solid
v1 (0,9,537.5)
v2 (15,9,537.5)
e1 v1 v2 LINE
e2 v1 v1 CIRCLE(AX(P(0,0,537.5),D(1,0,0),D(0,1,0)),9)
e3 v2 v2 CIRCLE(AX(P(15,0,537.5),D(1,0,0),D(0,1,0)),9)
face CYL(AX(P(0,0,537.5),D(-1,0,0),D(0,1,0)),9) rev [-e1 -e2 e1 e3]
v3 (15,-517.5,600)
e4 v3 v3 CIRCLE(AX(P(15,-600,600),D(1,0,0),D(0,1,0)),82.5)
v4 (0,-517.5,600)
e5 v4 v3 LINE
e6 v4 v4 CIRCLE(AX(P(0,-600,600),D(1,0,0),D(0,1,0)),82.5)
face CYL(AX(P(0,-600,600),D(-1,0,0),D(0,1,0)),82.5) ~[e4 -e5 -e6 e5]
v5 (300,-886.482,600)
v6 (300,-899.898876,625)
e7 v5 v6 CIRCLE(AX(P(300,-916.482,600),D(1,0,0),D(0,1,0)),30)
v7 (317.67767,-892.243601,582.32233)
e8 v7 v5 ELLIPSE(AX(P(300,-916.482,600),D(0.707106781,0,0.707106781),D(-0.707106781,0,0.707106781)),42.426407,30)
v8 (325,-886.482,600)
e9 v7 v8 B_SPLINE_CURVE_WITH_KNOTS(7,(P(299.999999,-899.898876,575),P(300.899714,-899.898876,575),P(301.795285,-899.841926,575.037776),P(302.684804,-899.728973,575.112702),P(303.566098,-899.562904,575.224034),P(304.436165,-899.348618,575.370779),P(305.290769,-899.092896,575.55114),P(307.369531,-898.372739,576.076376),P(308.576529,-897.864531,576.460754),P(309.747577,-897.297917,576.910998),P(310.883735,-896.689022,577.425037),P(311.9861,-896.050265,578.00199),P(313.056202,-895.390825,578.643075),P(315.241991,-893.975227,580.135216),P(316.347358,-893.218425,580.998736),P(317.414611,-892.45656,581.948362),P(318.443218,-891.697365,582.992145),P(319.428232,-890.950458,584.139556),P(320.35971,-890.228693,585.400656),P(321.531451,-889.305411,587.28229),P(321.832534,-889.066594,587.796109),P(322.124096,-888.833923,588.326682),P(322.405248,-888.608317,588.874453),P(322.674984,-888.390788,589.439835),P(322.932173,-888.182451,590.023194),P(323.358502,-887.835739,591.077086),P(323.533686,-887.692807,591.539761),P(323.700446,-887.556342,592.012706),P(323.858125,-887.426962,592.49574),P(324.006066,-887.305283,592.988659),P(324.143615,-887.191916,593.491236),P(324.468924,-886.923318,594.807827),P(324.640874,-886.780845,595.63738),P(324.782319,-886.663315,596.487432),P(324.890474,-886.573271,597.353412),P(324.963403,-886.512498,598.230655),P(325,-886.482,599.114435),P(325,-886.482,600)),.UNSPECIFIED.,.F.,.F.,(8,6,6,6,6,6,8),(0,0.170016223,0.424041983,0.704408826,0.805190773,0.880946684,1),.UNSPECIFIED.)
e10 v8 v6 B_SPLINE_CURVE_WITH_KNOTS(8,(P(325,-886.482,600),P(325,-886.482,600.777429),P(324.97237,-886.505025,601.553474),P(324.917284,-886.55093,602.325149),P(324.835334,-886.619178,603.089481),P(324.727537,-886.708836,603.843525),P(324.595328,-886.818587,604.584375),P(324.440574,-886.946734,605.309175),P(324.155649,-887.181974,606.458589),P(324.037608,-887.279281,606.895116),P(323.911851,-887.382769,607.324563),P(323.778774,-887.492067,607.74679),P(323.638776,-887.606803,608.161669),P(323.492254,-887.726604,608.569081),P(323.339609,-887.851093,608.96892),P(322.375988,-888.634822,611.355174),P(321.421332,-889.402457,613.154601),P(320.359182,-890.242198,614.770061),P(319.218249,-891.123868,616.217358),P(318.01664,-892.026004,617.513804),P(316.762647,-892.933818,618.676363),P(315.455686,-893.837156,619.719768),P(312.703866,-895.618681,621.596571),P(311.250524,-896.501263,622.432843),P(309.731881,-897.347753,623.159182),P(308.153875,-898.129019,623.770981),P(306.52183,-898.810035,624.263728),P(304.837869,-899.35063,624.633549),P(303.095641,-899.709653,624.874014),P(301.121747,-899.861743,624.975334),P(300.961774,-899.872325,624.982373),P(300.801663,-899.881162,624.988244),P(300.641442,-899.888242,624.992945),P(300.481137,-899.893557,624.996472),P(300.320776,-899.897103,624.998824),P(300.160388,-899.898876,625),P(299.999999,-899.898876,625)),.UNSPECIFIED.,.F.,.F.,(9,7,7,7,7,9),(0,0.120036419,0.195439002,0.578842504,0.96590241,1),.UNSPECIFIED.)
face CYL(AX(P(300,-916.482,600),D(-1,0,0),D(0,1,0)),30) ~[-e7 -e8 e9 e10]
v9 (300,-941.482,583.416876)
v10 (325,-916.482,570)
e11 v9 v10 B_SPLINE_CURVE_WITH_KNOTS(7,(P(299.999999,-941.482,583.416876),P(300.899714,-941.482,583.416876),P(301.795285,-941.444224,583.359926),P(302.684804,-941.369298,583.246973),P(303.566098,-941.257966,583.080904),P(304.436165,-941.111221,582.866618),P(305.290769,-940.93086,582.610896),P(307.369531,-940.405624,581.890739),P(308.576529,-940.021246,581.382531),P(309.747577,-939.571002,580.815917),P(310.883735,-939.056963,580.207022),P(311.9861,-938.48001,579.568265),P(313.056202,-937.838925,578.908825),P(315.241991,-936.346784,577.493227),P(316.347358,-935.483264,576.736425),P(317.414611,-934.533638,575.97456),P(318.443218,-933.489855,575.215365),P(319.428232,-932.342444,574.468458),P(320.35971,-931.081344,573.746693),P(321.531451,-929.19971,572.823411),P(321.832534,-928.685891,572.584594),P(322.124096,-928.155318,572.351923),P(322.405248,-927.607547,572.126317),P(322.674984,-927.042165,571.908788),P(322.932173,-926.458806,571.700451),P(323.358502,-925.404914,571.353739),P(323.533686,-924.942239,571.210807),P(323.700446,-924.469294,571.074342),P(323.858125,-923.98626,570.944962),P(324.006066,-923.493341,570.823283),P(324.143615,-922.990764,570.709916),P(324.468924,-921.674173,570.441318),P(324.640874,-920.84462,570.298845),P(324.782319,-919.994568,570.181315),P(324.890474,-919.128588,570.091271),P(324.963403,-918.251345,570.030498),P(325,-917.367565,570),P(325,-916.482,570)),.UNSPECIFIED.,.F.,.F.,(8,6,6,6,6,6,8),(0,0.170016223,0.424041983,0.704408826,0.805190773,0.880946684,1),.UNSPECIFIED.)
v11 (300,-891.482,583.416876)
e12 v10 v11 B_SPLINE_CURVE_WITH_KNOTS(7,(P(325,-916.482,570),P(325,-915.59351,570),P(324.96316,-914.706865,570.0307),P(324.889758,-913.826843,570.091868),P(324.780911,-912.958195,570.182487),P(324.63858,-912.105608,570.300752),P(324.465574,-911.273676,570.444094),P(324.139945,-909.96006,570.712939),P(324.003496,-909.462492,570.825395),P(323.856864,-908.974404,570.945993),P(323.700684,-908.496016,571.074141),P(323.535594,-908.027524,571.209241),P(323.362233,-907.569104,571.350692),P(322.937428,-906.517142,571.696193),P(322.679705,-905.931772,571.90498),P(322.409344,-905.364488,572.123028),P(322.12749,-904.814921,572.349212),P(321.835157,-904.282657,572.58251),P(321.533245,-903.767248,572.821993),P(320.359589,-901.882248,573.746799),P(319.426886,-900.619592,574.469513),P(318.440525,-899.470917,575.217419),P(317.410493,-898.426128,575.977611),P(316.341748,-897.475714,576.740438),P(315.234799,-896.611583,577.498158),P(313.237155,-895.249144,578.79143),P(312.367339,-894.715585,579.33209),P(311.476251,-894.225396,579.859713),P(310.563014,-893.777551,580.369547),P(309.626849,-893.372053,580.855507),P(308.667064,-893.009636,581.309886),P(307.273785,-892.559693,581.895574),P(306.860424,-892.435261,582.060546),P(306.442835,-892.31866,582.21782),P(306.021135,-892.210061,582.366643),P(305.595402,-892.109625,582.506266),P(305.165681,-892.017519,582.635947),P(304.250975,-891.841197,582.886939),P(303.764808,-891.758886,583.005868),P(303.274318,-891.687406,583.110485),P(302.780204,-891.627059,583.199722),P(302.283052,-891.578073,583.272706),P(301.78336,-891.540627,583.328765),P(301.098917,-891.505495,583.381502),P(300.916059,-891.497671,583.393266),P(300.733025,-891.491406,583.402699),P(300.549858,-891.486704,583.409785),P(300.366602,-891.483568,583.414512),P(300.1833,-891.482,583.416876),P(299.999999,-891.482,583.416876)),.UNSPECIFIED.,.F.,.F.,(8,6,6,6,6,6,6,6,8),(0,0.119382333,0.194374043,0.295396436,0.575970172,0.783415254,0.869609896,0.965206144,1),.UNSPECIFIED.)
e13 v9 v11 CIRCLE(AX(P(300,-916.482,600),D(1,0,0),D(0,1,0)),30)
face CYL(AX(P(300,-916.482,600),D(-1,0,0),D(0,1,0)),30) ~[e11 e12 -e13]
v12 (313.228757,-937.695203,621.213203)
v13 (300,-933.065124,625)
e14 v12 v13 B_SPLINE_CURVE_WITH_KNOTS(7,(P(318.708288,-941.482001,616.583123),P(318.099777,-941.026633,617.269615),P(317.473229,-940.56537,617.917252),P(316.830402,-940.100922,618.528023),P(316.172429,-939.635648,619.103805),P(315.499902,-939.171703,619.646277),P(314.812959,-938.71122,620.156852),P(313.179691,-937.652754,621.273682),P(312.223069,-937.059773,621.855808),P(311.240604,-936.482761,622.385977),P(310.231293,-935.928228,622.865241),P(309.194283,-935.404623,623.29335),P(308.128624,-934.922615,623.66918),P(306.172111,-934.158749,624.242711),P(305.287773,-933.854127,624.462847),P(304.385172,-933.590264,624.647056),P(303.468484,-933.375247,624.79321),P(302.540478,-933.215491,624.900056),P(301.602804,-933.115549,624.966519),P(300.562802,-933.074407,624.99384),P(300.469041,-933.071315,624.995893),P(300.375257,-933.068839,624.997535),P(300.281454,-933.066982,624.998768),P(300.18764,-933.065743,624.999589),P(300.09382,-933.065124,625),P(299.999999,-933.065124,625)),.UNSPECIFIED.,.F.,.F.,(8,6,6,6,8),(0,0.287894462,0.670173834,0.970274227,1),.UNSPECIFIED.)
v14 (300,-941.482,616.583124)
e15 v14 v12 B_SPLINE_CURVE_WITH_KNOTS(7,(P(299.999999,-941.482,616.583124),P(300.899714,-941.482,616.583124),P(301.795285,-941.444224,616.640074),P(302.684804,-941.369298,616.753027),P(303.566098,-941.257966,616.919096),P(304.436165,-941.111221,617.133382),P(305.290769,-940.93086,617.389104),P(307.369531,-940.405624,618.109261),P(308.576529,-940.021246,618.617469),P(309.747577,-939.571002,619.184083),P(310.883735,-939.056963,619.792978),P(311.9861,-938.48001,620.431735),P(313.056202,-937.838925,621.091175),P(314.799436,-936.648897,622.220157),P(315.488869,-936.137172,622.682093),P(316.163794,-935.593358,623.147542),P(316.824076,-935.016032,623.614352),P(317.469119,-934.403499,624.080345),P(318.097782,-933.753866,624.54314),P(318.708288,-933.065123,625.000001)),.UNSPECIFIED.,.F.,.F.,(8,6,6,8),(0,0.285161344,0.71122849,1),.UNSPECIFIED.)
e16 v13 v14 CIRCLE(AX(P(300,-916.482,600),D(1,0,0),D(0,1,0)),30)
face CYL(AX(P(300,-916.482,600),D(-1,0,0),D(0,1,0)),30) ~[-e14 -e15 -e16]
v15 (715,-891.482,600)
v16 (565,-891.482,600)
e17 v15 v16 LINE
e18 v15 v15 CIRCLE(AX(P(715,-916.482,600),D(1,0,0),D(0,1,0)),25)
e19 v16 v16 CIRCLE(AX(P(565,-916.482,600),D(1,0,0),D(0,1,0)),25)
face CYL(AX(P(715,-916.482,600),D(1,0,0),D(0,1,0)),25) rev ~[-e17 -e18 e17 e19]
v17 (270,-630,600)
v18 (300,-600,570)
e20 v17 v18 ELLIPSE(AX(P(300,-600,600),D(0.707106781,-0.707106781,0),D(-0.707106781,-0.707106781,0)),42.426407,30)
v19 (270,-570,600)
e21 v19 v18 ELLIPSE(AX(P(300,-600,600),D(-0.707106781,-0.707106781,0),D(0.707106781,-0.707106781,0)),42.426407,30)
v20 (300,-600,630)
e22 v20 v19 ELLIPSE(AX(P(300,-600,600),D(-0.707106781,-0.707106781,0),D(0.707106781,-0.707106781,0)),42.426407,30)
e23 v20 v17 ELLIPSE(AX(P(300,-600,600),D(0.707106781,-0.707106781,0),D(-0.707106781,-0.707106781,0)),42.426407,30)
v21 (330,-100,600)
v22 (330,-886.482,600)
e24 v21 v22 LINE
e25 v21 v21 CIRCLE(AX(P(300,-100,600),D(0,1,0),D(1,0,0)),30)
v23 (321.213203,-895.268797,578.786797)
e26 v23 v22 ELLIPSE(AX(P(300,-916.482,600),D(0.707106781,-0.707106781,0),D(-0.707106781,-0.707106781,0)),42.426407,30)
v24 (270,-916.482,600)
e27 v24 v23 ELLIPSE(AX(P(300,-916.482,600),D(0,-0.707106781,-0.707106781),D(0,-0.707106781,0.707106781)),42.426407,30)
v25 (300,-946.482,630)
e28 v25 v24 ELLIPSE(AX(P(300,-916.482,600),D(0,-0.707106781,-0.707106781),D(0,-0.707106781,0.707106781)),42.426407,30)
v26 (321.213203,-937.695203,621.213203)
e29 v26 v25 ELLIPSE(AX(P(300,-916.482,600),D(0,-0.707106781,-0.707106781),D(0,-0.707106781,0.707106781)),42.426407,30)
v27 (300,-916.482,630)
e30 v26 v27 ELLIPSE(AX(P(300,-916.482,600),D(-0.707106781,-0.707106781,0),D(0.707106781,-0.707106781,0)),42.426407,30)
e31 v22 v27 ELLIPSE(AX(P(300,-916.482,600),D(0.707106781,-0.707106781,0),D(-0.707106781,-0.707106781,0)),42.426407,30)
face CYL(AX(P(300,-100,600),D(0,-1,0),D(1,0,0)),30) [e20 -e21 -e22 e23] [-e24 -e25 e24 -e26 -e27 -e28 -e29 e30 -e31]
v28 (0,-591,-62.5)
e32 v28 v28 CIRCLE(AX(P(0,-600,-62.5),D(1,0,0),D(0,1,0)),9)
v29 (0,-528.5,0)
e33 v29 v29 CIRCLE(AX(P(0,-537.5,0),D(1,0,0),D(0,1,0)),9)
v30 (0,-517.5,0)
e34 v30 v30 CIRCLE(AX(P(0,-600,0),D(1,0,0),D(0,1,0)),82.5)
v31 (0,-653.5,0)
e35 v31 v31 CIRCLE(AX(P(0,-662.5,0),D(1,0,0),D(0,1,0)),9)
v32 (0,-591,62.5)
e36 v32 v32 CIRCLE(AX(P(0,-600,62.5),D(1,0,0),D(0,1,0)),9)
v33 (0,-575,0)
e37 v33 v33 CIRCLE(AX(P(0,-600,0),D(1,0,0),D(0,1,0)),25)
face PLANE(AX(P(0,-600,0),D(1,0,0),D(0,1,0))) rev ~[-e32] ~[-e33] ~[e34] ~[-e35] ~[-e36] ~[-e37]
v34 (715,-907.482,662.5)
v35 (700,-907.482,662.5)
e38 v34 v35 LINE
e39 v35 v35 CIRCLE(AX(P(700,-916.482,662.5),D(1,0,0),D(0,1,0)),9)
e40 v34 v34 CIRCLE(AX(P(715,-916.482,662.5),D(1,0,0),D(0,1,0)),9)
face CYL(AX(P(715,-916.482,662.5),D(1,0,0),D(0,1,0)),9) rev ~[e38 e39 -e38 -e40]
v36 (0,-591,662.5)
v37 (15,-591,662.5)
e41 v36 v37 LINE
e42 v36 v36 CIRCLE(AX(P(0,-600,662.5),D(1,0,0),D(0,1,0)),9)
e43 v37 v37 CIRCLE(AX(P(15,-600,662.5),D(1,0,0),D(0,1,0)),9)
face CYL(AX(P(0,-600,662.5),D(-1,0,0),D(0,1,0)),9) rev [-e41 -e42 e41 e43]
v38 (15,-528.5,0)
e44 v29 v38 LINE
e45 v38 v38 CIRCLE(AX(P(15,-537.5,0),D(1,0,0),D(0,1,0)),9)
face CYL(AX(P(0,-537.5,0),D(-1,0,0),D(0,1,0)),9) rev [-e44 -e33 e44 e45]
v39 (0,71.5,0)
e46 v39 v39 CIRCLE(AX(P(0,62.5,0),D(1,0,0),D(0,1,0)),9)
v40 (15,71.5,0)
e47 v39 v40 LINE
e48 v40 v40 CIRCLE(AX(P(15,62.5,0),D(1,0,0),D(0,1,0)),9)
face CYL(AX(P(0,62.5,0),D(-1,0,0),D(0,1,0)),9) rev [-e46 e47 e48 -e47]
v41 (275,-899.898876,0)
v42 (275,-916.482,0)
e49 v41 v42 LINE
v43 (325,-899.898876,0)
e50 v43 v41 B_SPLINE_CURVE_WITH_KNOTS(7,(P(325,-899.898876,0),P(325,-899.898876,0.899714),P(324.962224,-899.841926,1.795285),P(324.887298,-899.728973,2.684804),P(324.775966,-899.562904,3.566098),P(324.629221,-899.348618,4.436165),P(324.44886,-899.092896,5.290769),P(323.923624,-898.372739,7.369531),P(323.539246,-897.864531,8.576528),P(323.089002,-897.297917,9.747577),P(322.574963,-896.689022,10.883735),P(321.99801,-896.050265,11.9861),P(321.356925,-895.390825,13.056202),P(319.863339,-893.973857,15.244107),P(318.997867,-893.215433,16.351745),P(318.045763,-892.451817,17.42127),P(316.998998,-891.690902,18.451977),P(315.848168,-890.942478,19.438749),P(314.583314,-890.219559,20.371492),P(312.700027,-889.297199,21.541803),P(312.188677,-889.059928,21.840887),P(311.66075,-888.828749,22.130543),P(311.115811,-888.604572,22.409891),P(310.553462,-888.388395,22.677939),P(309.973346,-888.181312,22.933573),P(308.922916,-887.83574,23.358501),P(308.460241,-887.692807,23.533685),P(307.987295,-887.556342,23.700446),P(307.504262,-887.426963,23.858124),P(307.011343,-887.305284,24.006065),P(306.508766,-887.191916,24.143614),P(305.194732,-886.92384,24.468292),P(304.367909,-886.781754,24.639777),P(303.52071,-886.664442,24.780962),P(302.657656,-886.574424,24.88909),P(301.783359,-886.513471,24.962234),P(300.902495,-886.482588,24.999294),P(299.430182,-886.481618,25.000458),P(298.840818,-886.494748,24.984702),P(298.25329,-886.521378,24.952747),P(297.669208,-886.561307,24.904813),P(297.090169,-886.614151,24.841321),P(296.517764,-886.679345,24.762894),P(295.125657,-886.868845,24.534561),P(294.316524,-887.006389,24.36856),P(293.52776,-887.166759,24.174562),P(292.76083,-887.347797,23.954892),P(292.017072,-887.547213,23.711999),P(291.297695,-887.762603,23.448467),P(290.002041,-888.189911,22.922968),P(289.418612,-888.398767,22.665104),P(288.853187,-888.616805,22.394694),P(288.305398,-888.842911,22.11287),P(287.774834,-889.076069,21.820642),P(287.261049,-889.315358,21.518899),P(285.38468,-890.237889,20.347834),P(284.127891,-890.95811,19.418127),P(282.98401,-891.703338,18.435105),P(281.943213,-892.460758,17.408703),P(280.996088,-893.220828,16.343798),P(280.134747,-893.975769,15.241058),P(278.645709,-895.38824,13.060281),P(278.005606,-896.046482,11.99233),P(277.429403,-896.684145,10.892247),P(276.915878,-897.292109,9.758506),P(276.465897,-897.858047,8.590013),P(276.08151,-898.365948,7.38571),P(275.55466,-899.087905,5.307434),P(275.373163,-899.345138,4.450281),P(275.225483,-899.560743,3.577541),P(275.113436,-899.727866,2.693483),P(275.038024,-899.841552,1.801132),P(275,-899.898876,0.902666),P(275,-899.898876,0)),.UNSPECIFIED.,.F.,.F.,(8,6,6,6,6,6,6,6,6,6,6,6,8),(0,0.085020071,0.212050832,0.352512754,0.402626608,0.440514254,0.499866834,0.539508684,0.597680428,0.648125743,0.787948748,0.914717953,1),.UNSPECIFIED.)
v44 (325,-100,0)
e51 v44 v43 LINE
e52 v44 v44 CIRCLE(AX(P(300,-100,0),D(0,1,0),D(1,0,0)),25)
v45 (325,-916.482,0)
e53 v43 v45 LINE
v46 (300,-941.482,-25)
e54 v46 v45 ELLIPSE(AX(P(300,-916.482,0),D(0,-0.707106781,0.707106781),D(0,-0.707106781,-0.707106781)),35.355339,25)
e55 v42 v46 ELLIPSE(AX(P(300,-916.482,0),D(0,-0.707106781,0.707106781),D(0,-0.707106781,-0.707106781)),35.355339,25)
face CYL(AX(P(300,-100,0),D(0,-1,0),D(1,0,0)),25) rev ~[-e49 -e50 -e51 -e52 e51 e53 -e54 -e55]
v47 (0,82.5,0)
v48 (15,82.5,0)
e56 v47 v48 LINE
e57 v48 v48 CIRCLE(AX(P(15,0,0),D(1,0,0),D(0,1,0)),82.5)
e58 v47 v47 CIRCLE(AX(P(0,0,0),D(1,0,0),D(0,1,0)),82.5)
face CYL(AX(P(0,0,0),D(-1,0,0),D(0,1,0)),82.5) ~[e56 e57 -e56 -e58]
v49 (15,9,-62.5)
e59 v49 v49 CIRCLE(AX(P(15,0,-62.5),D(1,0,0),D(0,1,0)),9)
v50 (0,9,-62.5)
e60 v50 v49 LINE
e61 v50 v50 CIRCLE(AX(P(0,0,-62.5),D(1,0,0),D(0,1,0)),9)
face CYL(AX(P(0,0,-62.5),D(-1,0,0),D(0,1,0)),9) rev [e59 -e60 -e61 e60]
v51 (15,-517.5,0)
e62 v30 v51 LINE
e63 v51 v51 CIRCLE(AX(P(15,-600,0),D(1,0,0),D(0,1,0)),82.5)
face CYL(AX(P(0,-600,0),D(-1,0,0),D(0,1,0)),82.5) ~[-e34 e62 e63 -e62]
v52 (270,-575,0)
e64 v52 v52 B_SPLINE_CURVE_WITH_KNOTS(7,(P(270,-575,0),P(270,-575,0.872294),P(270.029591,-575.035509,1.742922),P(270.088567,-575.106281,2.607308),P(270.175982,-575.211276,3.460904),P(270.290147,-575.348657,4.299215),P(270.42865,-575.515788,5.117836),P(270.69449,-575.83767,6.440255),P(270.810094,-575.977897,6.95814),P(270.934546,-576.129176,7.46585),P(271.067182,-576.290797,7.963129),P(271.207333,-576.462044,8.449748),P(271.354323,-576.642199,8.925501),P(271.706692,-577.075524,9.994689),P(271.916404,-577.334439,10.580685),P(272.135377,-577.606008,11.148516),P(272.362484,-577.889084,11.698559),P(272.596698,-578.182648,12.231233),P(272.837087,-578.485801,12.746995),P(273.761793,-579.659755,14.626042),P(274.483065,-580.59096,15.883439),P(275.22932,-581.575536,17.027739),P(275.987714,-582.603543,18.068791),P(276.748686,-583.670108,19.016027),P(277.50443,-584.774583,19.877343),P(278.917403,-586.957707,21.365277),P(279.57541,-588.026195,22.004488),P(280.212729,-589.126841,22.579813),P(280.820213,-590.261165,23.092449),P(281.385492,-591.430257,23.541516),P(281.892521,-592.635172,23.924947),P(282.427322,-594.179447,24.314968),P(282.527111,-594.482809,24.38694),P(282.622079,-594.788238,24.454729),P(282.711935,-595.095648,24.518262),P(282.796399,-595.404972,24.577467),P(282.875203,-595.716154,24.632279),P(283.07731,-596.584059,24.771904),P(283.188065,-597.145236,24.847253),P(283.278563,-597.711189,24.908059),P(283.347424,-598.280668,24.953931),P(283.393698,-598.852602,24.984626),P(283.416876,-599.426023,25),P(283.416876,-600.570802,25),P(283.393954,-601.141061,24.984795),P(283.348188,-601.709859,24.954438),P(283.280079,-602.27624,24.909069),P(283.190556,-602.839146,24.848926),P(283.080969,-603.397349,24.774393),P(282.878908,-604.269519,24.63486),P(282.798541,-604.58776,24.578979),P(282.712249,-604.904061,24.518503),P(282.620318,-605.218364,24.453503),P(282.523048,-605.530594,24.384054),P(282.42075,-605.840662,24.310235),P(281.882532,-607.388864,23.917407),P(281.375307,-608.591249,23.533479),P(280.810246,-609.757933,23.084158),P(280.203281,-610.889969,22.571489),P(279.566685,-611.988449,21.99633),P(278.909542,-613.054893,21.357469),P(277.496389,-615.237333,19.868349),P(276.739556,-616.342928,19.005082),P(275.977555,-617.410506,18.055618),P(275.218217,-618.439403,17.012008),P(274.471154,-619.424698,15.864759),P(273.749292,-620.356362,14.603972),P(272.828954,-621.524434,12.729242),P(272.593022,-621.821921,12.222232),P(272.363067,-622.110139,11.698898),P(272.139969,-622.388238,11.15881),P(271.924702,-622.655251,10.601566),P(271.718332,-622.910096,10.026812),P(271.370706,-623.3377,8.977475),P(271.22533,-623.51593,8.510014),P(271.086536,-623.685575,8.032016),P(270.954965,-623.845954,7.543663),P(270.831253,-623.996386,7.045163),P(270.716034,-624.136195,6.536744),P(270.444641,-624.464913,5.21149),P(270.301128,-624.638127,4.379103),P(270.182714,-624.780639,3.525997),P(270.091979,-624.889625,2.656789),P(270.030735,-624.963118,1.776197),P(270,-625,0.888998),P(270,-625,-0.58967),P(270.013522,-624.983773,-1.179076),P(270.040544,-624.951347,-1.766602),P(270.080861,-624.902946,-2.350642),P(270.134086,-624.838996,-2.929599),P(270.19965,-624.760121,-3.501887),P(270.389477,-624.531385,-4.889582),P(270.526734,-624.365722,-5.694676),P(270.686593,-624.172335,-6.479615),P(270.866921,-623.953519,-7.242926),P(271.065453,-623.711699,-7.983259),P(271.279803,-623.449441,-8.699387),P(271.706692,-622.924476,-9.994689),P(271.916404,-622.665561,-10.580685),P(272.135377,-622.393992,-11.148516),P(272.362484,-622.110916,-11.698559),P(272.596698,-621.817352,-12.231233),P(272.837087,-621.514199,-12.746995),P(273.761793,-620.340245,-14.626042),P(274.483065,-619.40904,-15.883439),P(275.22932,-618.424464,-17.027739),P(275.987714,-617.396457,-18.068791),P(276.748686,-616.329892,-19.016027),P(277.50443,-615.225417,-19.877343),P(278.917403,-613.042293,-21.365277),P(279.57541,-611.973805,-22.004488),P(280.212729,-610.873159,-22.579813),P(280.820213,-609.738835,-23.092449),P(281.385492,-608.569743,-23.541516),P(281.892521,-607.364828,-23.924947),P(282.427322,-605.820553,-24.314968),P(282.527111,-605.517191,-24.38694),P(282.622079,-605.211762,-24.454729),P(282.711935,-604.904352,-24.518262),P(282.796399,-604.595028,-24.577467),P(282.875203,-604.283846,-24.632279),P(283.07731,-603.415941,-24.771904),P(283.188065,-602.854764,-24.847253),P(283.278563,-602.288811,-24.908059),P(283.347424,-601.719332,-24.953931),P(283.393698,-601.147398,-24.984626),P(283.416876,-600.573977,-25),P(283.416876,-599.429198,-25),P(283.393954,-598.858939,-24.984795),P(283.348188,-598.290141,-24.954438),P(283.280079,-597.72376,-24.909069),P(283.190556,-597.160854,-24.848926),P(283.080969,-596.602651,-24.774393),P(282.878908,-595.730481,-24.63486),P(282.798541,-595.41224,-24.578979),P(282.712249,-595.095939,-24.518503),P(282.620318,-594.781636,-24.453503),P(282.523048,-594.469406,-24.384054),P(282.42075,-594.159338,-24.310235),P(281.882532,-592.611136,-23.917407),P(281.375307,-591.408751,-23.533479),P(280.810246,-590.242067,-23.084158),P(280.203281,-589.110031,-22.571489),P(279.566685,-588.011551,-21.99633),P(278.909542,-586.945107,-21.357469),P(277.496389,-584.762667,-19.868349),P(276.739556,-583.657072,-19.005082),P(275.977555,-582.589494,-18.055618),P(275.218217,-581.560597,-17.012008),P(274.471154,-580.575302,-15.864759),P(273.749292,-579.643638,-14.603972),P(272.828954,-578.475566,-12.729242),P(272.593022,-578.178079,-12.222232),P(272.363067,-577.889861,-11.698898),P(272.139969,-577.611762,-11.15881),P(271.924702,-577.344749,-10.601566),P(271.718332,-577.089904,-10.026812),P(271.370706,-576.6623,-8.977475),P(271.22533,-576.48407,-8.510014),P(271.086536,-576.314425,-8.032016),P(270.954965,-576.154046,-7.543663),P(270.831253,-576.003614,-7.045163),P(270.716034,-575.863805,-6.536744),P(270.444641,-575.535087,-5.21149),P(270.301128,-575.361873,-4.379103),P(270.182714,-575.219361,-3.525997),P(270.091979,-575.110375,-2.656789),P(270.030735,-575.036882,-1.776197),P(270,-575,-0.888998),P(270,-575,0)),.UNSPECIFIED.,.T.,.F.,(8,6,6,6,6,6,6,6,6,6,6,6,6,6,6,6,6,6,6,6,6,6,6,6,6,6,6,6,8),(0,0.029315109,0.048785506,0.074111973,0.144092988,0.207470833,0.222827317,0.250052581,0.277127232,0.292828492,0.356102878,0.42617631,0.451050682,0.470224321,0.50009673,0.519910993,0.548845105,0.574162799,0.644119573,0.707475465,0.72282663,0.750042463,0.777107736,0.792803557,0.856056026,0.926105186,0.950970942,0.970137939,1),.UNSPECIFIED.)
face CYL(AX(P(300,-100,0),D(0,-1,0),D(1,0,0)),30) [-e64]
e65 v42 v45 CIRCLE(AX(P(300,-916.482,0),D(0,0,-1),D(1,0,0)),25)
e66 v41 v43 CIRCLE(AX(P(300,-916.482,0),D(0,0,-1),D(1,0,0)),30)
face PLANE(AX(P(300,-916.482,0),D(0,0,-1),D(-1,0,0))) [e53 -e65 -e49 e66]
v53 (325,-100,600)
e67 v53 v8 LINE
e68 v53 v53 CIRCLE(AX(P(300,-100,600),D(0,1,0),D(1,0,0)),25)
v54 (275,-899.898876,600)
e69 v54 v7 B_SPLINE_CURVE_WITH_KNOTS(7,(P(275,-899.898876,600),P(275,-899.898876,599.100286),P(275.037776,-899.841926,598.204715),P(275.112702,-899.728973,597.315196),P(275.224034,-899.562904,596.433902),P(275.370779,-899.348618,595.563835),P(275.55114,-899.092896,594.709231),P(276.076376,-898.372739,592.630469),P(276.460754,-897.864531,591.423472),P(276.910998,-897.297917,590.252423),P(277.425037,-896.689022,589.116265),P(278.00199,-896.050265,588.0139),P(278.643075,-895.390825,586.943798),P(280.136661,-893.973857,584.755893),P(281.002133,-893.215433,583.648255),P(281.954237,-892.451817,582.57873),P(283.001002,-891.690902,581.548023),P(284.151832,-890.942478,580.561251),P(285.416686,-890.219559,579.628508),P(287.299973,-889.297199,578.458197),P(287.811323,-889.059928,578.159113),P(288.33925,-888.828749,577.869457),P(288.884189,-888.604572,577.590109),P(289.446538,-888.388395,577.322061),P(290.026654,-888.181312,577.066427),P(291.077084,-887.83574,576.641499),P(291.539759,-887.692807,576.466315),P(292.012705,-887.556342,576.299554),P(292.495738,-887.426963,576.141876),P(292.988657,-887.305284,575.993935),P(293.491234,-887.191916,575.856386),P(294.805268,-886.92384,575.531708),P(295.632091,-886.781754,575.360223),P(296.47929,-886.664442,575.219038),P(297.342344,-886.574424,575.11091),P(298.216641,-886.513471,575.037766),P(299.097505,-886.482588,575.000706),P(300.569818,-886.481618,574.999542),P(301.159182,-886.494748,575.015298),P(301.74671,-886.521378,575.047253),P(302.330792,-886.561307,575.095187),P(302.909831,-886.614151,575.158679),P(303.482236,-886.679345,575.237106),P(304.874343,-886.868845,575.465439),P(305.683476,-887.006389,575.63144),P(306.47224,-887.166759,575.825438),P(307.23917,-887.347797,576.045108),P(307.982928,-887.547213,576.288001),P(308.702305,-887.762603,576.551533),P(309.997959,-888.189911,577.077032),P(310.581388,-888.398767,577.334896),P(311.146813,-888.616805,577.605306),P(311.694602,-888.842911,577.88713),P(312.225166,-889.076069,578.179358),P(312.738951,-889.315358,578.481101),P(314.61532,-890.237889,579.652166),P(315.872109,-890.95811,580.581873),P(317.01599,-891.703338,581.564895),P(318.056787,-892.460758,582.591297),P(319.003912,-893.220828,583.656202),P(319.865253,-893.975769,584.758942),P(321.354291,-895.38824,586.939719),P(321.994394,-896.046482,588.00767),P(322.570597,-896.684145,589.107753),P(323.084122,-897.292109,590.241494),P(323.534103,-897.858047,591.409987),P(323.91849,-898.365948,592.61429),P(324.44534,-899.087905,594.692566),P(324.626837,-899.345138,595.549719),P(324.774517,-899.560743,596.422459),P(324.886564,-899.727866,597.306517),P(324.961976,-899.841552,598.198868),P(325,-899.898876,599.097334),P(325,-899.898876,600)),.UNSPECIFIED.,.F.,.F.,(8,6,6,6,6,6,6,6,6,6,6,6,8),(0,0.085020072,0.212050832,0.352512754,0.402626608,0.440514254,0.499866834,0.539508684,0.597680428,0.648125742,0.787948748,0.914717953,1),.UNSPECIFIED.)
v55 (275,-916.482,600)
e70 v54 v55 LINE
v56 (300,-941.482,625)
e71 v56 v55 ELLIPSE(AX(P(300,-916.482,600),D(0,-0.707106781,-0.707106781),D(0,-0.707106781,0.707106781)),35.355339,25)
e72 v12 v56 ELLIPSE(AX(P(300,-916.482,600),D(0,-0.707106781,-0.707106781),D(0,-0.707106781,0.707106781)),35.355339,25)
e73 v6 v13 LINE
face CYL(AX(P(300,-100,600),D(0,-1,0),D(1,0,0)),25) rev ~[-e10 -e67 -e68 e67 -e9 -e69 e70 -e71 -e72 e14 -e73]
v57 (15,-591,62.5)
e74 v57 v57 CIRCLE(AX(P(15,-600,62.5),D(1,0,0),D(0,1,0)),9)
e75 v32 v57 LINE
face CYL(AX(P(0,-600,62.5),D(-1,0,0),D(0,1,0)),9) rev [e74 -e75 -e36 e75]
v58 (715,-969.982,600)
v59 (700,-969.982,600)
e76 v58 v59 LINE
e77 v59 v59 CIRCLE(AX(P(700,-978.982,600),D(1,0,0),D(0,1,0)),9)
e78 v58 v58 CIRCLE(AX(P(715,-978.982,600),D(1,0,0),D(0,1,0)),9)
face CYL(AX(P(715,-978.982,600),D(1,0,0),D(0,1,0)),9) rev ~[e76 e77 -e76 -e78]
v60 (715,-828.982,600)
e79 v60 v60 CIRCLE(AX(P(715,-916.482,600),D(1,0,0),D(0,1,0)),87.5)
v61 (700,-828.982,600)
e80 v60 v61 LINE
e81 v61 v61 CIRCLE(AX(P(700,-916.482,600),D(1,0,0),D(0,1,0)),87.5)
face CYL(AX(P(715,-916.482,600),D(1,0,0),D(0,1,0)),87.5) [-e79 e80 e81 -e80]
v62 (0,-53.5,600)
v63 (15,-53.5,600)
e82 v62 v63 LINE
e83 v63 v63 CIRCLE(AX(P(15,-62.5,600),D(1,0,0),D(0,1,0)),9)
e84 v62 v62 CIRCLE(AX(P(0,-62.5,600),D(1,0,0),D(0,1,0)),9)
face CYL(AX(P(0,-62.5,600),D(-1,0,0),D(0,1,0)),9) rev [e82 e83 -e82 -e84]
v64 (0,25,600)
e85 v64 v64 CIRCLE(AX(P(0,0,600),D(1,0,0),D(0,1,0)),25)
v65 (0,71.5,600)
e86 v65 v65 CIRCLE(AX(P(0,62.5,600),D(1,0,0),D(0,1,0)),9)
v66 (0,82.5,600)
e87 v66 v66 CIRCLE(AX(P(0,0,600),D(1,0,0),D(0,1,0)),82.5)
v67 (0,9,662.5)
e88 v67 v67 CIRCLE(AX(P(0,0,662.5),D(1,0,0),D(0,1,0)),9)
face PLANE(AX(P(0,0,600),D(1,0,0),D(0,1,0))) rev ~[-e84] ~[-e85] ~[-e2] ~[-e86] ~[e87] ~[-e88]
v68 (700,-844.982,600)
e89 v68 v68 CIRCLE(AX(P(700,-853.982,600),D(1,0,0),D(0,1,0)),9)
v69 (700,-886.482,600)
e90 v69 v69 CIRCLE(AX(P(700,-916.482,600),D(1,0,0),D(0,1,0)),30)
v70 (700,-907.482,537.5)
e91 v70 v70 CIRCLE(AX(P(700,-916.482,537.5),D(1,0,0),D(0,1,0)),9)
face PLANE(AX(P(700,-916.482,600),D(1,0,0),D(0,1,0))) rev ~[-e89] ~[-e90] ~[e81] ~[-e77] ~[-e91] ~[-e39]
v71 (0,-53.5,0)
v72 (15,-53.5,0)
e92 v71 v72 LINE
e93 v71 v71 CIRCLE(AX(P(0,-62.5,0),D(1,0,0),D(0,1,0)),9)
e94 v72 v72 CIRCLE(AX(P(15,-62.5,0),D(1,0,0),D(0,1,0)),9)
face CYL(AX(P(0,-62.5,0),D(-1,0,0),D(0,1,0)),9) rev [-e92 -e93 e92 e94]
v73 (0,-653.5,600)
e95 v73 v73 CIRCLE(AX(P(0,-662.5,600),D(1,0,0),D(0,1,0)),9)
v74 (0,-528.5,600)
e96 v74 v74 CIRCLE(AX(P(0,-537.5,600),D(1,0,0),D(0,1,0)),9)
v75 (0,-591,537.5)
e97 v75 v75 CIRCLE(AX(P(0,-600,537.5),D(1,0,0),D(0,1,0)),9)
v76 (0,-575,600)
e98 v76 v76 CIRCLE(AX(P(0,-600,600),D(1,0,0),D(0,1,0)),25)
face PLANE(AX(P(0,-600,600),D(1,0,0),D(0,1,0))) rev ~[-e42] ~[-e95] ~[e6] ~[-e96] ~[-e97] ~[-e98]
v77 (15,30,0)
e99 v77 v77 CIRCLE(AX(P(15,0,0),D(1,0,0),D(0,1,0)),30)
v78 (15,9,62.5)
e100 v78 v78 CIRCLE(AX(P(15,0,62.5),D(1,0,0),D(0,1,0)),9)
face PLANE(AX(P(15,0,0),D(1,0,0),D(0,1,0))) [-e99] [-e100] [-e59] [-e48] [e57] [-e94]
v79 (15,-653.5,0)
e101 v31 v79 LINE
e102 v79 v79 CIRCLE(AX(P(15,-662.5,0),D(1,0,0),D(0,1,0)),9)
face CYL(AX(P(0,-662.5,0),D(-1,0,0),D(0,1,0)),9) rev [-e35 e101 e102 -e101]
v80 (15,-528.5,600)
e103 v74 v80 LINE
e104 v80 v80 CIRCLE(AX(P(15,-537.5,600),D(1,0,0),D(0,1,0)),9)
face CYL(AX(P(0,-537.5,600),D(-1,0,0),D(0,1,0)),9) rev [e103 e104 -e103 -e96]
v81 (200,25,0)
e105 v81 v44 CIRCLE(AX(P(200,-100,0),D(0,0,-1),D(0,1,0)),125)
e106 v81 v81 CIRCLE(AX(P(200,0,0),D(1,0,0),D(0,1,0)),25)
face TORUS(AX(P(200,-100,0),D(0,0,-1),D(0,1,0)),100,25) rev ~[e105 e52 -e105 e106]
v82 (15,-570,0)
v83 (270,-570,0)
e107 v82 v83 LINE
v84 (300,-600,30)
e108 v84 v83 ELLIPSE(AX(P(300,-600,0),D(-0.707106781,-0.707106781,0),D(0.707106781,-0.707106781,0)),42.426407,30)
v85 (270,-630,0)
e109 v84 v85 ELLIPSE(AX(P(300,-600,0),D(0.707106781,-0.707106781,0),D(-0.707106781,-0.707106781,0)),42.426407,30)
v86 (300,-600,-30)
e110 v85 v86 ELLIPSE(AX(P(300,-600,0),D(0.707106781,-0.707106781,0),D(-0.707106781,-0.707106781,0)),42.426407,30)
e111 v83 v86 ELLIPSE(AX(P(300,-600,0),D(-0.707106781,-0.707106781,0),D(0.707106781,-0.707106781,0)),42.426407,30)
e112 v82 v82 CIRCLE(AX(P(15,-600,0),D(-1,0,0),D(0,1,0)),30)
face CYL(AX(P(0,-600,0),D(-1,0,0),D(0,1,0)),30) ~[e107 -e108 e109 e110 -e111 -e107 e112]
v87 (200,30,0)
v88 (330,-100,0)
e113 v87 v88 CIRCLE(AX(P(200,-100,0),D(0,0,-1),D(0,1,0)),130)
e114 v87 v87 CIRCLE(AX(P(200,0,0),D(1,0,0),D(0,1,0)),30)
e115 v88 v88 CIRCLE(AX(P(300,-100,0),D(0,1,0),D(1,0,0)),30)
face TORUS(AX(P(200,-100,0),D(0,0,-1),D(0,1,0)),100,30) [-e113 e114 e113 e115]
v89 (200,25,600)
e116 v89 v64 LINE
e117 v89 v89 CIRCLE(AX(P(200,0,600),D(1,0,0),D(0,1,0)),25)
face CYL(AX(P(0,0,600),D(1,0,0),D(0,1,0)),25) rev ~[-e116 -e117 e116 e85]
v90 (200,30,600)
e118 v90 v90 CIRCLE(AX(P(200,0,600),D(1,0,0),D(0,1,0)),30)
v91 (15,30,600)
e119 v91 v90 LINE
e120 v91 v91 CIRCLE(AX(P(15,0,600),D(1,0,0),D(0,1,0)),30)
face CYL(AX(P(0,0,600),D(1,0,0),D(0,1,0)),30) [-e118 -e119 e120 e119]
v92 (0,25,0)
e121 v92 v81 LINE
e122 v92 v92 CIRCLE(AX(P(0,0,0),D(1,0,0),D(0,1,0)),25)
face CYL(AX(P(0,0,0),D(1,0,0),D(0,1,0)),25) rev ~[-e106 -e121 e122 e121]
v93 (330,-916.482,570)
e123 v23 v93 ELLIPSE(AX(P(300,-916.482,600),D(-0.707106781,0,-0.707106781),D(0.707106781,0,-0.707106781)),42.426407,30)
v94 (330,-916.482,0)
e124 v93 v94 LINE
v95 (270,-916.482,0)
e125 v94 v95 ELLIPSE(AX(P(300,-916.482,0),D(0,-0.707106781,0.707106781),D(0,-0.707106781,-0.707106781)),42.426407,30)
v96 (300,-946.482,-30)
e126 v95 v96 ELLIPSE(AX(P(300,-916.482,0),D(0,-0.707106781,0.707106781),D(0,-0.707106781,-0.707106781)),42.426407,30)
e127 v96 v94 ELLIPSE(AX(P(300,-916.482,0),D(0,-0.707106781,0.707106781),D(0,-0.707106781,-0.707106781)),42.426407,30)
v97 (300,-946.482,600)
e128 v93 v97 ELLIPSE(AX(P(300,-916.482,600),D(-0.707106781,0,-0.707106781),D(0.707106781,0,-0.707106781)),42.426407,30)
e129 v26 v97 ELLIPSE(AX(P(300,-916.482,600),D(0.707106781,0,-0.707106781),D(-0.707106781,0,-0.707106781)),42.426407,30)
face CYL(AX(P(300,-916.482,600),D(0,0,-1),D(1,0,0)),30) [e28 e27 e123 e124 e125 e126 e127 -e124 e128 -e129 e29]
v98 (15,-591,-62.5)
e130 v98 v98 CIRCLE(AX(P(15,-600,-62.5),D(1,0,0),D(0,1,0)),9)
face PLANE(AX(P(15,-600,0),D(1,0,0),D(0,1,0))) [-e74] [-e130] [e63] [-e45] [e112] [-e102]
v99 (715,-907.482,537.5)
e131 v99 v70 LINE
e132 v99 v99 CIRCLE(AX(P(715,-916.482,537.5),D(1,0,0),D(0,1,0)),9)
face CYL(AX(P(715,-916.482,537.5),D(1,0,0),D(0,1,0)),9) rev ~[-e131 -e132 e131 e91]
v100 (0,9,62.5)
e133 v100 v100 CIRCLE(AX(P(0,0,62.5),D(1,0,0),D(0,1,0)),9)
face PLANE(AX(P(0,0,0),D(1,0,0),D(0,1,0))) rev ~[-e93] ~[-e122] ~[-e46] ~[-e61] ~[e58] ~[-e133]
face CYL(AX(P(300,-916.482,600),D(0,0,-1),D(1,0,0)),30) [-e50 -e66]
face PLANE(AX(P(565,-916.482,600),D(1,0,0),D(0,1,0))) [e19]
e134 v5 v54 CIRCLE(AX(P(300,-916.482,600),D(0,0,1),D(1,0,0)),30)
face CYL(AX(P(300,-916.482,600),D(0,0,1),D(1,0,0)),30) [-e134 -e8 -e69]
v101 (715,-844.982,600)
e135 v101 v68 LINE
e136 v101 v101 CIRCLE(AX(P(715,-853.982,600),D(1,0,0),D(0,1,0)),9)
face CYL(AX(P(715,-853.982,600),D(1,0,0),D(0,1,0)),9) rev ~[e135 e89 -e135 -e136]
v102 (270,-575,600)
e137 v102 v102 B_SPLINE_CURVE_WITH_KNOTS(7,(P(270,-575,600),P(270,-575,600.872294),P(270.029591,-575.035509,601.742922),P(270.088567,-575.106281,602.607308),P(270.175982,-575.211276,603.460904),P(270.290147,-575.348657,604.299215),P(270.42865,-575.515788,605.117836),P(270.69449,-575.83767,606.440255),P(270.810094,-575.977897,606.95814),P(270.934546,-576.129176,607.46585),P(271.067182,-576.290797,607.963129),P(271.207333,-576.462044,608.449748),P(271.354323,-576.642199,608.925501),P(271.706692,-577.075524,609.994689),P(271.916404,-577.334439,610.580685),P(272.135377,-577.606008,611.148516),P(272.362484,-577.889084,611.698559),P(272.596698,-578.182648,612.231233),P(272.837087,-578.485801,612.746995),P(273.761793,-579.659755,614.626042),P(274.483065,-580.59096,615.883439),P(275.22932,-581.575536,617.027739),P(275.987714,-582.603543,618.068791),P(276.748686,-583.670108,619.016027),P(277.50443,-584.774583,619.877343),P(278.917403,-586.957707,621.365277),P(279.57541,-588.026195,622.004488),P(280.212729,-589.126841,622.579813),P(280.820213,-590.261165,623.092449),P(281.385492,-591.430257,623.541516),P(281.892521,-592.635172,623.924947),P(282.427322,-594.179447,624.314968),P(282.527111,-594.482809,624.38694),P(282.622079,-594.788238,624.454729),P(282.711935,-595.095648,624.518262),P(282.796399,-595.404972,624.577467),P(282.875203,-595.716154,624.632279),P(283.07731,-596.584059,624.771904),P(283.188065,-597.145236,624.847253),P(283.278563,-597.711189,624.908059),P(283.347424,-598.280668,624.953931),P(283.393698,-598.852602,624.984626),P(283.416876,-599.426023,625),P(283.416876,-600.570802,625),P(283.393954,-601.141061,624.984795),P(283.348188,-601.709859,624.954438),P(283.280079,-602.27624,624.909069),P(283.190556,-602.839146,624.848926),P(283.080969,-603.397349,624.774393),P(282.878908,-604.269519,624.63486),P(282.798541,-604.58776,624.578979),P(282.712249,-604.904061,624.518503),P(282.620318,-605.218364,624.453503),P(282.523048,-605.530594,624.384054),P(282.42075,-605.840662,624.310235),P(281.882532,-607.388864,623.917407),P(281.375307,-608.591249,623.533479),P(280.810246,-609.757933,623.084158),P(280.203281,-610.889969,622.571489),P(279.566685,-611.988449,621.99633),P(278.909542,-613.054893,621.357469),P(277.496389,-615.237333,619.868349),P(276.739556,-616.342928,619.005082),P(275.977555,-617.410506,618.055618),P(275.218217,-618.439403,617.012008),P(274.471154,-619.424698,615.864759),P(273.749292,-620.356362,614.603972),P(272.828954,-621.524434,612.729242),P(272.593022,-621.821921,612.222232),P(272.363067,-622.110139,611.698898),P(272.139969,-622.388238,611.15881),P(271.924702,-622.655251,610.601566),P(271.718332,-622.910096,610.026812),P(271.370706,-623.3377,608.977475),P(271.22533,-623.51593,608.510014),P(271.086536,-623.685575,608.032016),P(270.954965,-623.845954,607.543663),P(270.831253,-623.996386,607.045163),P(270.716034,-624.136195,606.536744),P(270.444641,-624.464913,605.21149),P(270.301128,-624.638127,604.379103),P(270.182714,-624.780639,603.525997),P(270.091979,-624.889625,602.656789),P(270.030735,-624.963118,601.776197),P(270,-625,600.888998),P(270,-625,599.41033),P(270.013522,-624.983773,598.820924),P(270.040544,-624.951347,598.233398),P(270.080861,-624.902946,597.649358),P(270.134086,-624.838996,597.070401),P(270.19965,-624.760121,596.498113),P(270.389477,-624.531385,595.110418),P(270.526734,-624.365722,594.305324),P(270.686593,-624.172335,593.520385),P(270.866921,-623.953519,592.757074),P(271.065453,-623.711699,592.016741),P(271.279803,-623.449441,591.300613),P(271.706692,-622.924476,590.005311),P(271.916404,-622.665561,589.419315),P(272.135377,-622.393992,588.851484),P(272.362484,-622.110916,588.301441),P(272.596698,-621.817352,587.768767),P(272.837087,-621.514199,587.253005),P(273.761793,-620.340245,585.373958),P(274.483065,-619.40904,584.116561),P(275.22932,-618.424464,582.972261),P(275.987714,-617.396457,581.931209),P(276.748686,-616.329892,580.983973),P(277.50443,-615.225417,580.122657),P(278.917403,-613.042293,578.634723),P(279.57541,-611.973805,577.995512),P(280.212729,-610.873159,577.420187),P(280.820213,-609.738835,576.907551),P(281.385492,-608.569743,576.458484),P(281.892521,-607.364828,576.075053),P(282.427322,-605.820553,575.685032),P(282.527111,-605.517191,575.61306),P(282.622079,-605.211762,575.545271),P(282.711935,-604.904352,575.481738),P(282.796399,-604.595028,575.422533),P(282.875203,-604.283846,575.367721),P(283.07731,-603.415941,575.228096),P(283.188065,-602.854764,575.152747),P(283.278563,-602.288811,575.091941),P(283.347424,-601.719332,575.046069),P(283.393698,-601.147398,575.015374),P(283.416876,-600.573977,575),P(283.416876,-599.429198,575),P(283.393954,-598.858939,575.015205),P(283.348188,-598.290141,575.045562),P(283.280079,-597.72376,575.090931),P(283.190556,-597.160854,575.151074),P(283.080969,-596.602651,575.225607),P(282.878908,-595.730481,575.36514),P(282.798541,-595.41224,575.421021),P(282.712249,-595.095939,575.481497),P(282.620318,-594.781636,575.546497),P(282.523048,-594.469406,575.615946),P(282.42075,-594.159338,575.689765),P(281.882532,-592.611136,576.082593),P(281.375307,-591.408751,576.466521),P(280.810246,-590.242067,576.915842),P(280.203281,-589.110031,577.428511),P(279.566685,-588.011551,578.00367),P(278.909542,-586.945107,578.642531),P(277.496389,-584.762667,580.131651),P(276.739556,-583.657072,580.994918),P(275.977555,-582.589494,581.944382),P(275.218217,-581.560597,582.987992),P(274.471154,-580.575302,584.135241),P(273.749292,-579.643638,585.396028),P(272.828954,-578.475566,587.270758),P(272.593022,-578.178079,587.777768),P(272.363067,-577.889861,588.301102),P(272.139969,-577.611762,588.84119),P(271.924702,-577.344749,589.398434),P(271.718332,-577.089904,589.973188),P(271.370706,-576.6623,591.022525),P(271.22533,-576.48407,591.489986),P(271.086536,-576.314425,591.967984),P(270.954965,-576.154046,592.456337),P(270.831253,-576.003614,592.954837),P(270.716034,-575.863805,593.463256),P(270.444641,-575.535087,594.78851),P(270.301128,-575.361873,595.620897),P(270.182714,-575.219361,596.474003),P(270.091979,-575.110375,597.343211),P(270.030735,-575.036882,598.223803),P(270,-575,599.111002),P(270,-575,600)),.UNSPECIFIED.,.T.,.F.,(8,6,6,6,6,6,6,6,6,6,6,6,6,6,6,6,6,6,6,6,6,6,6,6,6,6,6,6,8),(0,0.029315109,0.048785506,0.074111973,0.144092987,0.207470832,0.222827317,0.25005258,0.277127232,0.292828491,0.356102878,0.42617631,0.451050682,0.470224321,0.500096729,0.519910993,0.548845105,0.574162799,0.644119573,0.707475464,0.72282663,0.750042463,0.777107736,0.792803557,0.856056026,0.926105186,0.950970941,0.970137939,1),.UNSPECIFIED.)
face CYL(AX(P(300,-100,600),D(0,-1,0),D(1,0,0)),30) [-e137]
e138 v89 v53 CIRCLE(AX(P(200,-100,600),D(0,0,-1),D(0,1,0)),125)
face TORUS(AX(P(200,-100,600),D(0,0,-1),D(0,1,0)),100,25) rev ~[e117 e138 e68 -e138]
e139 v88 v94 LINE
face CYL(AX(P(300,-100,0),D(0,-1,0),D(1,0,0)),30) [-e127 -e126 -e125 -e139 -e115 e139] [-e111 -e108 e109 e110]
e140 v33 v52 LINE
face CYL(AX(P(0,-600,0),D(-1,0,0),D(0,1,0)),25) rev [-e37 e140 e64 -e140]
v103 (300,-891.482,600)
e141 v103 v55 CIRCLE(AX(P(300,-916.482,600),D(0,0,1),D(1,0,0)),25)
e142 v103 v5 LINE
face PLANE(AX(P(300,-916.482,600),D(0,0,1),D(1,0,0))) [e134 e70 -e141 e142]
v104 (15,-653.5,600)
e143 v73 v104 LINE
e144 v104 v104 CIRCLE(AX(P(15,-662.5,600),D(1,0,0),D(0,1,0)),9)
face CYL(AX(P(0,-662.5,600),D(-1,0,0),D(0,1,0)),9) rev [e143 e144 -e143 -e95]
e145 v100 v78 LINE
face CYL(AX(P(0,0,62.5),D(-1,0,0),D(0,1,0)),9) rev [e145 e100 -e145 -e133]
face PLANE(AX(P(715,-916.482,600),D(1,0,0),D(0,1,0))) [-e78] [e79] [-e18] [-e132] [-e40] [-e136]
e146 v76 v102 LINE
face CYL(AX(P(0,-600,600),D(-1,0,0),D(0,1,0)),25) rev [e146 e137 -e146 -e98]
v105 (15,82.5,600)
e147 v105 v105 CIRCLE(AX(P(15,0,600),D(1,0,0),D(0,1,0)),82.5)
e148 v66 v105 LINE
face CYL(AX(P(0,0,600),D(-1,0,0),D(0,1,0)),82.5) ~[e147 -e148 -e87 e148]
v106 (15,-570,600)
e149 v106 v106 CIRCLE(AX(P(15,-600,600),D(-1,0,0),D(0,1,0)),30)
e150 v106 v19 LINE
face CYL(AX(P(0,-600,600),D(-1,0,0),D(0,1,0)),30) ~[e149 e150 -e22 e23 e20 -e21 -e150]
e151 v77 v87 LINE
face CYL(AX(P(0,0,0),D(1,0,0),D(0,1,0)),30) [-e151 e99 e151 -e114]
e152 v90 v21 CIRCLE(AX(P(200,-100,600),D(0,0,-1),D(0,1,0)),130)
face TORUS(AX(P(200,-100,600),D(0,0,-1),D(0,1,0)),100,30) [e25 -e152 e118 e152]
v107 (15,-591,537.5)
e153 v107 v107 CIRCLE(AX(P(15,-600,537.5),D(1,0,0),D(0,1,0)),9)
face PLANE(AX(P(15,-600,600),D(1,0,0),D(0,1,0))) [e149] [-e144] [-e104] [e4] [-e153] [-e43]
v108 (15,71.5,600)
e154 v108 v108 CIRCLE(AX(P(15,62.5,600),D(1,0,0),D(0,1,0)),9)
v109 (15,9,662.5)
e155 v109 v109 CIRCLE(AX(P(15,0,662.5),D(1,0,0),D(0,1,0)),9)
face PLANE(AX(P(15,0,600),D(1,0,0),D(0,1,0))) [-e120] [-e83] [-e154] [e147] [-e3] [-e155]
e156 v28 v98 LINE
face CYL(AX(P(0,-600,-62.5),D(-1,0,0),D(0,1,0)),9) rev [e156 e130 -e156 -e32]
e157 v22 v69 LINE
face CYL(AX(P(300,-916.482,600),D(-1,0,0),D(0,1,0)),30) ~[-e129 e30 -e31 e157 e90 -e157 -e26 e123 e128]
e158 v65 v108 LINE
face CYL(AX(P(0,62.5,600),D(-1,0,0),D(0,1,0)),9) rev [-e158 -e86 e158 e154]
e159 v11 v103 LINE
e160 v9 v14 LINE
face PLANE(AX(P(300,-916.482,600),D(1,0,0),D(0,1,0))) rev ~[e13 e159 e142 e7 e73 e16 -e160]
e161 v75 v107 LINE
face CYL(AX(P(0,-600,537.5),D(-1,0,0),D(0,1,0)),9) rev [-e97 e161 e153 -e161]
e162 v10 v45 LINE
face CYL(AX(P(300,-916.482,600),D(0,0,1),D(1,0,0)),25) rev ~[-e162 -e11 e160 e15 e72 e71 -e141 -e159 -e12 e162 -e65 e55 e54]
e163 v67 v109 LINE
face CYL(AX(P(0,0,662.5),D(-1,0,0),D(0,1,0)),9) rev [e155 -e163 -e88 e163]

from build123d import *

# Parameters (mm, degrees)
F4_R      = 30
F4_R_2    = 25
F5_R      = 82.5
F5_R_2    = 9
F5_R_3    = 25
F11_DEPTH = 15
F14_R     = 30
F15_DEPTH = 415
F16_R     = 87.5
F16_R_2   = 9
F16_R_3   = 30
F17_DEPTH = 15
F16_R_4   = 25
F18_DEPTH = 150


with BuildPart() as f7:
    # F7: sweep along a path in F3, F6
    with BuildLine(Plane.XY.offset(600)) as f7_path:
        Line((0, 0), (200, 0))
        ThreePointArc((200, 0), (270.7106781187, -29.2893218813), (300, -100))
        Line((300, -100), (300, -600))
        Line((300, -600), (300, -916.482))
    with BuildLine(Plane.YZ.offset(300)) as f7_path_2:
        Line((-916.482, 600), (-916.482, 0))
    # F4 (on Right) → F7 (sweep)
    with BuildSketch(Plane.YZ):
        with Locations((0, 600)):
            Circle(F4_R)
        with Locations((0, 600)):
            Circle(F4_R_2, mode=Mode.SUBTRACT)
    sweep(path=f7_path.line + f7_path_2.line, transition=Transition.RIGHT)

    # F8: sweep along a path in F0, F6
    with BuildLine(Plane.XY) as f8_path:
        Line((0, 0), (200, 0))
        ThreePointArc((200, 0), (270.7106781187, -29.2893218813), (300, -100))
        Line((300, -100), (300, -600))
        Line((300, -600), (300, -916.482))
    with BuildLine(Plane.YZ.offset(300)) as f8_path_2:
        Line((-916.482, 600), (-916.482, 0))
    # F4 (on Right) → F8 (sweep)
    with BuildSketch(Plane.YZ):
        Circle(F4_R)
        Circle(F4_R_2, mode=Mode.SUBTRACT)
    sweep(path=f8_path.line + f8_path_2.line, transition=Transition.RIGHT)

    # F4 (on Right) → F9 (join, up to the next surface of F7)
    with BuildSketch(Plane.YZ):
        with Locations((-600, 600)):
            Circle(F4_R)
        with Locations((-600, 600)):
            Circle(F4_R_2, mode=Mode.SUBTRACT)
    extrude(until=Until.NEXT)

    # F4 (on Right) → F10 (join, up to the next surface of F7)
    with BuildSketch(Plane.YZ):
        with Locations((-600, 0)):
            Circle(F4_R)
        with Locations((-600, 0)):
            Circle(F4_R_2, mode=Mode.SUBTRACT)
    extrude(until=Until.NEXT)

    # F5 (on face) → F11 (join)
    with BuildSketch(Plane.YZ):
        with Locations((0, 600)):
            Circle(F5_R)
        with Locations((0, 537.5)):
            Circle(F5_R_2, mode=Mode.SUBTRACT)
        with Locations((-62.5, 600)):
            Circle(F5_R_2, mode=Mode.SUBTRACT)
        with Locations((0, 600)):
            Circle(F5_R_3, mode=Mode.SUBTRACT)
        with Locations((62.5, 600)):
            Circle(F5_R_2, mode=Mode.SUBTRACT)
        with Locations((0, 662.5)):
            Circle(F5_R_2, mode=Mode.SUBTRACT)
        Circle(F5_R)
        with Locations((-62.5, 0)):
            Circle(F5_R_2, mode=Mode.SUBTRACT)
        with Locations((0, -62.5)):
            Circle(F5_R_2, mode=Mode.SUBTRACT)
        Circle(F5_R_3, mode=Mode.SUBTRACT)
        with Locations((62.5, 0)):
            Circle(F5_R_2, mode=Mode.SUBTRACT)
        with Locations((0, 62.5)):
            Circle(F5_R_2, mode=Mode.SUBTRACT)
        with Locations((-600, 600)):
            Circle(F5_R)
        with Locations((-600, 537.5)):
            Circle(F5_R_2, mode=Mode.SUBTRACT)
        with Locations((-662.5, 600)):
            Circle(F5_R_2, mode=Mode.SUBTRACT)
        with Locations((-600, 600)):
            Circle(F5_R_3, mode=Mode.SUBTRACT)
        with Locations((-600, 662.5)):
            Circle(F5_R_2, mode=Mode.SUBTRACT)
        with Locations((-537.5, 600)):
            Circle(F5_R_2, mode=Mode.SUBTRACT)
        with Locations((-600, 0)):
            Circle(F5_R)
        with Locations((-600, -62.5)):
            Circle(F5_R_2, mode=Mode.SUBTRACT)
        with Locations((-662.5, 0)):
            Circle(F5_R_2, mode=Mode.SUBTRACT)
        with Locations((-600, 0)):
            Circle(F5_R_3, mode=Mode.SUBTRACT)
        with Locations((-537.5, 0)):
            Circle(F5_R_2, mode=Mode.SUBTRACT)
        with Locations((-600, 62.5)):
            Circle(F5_R_2, mode=Mode.SUBTRACT)
    extrude(amount=F11_DEPTH)

    # F14 (on offset) → F15 (join)
    with BuildSketch(Plane.YZ.offset(300)):
        with Locations((-916.482, 600)):
            Circle(F14_R)
    extrude(amount=F15_DEPTH)

    # F16 (on face) → F17 (join)
    with BuildSketch(Plane.YZ.offset(715)):
        with Locations((-916.482, 600)):
            Circle(F16_R)
        with Locations((-916.482, 537.5)):
            Circle(F16_R_2, mode=Mode.SUBTRACT)
        with Locations((-978.982, 600)):
            Circle(F16_R_2, mode=Mode.SUBTRACT)
        with Locations((-916.482, 600)):
            Circle(F16_R_3, mode=Mode.SUBTRACT)
        with Locations((-853.982, 600)):
            Circle(F16_R_2, mode=Mode.SUBTRACT)
        with Locations((-916.482, 662.5)):
            Circle(F16_R_2, mode=Mode.SUBTRACT)
    extrude(amount=-F17_DEPTH)

    # F16 (on face) → F18 (cut)
    with BuildSketch(Plane.YZ.offset(715)):
        with Locations((-916.482, 600)):
            Circle(F16_R_4)
    extrude(amount=-F18_DEPTH, mode=Mode.SUBTRACT)


solid = f7.part
